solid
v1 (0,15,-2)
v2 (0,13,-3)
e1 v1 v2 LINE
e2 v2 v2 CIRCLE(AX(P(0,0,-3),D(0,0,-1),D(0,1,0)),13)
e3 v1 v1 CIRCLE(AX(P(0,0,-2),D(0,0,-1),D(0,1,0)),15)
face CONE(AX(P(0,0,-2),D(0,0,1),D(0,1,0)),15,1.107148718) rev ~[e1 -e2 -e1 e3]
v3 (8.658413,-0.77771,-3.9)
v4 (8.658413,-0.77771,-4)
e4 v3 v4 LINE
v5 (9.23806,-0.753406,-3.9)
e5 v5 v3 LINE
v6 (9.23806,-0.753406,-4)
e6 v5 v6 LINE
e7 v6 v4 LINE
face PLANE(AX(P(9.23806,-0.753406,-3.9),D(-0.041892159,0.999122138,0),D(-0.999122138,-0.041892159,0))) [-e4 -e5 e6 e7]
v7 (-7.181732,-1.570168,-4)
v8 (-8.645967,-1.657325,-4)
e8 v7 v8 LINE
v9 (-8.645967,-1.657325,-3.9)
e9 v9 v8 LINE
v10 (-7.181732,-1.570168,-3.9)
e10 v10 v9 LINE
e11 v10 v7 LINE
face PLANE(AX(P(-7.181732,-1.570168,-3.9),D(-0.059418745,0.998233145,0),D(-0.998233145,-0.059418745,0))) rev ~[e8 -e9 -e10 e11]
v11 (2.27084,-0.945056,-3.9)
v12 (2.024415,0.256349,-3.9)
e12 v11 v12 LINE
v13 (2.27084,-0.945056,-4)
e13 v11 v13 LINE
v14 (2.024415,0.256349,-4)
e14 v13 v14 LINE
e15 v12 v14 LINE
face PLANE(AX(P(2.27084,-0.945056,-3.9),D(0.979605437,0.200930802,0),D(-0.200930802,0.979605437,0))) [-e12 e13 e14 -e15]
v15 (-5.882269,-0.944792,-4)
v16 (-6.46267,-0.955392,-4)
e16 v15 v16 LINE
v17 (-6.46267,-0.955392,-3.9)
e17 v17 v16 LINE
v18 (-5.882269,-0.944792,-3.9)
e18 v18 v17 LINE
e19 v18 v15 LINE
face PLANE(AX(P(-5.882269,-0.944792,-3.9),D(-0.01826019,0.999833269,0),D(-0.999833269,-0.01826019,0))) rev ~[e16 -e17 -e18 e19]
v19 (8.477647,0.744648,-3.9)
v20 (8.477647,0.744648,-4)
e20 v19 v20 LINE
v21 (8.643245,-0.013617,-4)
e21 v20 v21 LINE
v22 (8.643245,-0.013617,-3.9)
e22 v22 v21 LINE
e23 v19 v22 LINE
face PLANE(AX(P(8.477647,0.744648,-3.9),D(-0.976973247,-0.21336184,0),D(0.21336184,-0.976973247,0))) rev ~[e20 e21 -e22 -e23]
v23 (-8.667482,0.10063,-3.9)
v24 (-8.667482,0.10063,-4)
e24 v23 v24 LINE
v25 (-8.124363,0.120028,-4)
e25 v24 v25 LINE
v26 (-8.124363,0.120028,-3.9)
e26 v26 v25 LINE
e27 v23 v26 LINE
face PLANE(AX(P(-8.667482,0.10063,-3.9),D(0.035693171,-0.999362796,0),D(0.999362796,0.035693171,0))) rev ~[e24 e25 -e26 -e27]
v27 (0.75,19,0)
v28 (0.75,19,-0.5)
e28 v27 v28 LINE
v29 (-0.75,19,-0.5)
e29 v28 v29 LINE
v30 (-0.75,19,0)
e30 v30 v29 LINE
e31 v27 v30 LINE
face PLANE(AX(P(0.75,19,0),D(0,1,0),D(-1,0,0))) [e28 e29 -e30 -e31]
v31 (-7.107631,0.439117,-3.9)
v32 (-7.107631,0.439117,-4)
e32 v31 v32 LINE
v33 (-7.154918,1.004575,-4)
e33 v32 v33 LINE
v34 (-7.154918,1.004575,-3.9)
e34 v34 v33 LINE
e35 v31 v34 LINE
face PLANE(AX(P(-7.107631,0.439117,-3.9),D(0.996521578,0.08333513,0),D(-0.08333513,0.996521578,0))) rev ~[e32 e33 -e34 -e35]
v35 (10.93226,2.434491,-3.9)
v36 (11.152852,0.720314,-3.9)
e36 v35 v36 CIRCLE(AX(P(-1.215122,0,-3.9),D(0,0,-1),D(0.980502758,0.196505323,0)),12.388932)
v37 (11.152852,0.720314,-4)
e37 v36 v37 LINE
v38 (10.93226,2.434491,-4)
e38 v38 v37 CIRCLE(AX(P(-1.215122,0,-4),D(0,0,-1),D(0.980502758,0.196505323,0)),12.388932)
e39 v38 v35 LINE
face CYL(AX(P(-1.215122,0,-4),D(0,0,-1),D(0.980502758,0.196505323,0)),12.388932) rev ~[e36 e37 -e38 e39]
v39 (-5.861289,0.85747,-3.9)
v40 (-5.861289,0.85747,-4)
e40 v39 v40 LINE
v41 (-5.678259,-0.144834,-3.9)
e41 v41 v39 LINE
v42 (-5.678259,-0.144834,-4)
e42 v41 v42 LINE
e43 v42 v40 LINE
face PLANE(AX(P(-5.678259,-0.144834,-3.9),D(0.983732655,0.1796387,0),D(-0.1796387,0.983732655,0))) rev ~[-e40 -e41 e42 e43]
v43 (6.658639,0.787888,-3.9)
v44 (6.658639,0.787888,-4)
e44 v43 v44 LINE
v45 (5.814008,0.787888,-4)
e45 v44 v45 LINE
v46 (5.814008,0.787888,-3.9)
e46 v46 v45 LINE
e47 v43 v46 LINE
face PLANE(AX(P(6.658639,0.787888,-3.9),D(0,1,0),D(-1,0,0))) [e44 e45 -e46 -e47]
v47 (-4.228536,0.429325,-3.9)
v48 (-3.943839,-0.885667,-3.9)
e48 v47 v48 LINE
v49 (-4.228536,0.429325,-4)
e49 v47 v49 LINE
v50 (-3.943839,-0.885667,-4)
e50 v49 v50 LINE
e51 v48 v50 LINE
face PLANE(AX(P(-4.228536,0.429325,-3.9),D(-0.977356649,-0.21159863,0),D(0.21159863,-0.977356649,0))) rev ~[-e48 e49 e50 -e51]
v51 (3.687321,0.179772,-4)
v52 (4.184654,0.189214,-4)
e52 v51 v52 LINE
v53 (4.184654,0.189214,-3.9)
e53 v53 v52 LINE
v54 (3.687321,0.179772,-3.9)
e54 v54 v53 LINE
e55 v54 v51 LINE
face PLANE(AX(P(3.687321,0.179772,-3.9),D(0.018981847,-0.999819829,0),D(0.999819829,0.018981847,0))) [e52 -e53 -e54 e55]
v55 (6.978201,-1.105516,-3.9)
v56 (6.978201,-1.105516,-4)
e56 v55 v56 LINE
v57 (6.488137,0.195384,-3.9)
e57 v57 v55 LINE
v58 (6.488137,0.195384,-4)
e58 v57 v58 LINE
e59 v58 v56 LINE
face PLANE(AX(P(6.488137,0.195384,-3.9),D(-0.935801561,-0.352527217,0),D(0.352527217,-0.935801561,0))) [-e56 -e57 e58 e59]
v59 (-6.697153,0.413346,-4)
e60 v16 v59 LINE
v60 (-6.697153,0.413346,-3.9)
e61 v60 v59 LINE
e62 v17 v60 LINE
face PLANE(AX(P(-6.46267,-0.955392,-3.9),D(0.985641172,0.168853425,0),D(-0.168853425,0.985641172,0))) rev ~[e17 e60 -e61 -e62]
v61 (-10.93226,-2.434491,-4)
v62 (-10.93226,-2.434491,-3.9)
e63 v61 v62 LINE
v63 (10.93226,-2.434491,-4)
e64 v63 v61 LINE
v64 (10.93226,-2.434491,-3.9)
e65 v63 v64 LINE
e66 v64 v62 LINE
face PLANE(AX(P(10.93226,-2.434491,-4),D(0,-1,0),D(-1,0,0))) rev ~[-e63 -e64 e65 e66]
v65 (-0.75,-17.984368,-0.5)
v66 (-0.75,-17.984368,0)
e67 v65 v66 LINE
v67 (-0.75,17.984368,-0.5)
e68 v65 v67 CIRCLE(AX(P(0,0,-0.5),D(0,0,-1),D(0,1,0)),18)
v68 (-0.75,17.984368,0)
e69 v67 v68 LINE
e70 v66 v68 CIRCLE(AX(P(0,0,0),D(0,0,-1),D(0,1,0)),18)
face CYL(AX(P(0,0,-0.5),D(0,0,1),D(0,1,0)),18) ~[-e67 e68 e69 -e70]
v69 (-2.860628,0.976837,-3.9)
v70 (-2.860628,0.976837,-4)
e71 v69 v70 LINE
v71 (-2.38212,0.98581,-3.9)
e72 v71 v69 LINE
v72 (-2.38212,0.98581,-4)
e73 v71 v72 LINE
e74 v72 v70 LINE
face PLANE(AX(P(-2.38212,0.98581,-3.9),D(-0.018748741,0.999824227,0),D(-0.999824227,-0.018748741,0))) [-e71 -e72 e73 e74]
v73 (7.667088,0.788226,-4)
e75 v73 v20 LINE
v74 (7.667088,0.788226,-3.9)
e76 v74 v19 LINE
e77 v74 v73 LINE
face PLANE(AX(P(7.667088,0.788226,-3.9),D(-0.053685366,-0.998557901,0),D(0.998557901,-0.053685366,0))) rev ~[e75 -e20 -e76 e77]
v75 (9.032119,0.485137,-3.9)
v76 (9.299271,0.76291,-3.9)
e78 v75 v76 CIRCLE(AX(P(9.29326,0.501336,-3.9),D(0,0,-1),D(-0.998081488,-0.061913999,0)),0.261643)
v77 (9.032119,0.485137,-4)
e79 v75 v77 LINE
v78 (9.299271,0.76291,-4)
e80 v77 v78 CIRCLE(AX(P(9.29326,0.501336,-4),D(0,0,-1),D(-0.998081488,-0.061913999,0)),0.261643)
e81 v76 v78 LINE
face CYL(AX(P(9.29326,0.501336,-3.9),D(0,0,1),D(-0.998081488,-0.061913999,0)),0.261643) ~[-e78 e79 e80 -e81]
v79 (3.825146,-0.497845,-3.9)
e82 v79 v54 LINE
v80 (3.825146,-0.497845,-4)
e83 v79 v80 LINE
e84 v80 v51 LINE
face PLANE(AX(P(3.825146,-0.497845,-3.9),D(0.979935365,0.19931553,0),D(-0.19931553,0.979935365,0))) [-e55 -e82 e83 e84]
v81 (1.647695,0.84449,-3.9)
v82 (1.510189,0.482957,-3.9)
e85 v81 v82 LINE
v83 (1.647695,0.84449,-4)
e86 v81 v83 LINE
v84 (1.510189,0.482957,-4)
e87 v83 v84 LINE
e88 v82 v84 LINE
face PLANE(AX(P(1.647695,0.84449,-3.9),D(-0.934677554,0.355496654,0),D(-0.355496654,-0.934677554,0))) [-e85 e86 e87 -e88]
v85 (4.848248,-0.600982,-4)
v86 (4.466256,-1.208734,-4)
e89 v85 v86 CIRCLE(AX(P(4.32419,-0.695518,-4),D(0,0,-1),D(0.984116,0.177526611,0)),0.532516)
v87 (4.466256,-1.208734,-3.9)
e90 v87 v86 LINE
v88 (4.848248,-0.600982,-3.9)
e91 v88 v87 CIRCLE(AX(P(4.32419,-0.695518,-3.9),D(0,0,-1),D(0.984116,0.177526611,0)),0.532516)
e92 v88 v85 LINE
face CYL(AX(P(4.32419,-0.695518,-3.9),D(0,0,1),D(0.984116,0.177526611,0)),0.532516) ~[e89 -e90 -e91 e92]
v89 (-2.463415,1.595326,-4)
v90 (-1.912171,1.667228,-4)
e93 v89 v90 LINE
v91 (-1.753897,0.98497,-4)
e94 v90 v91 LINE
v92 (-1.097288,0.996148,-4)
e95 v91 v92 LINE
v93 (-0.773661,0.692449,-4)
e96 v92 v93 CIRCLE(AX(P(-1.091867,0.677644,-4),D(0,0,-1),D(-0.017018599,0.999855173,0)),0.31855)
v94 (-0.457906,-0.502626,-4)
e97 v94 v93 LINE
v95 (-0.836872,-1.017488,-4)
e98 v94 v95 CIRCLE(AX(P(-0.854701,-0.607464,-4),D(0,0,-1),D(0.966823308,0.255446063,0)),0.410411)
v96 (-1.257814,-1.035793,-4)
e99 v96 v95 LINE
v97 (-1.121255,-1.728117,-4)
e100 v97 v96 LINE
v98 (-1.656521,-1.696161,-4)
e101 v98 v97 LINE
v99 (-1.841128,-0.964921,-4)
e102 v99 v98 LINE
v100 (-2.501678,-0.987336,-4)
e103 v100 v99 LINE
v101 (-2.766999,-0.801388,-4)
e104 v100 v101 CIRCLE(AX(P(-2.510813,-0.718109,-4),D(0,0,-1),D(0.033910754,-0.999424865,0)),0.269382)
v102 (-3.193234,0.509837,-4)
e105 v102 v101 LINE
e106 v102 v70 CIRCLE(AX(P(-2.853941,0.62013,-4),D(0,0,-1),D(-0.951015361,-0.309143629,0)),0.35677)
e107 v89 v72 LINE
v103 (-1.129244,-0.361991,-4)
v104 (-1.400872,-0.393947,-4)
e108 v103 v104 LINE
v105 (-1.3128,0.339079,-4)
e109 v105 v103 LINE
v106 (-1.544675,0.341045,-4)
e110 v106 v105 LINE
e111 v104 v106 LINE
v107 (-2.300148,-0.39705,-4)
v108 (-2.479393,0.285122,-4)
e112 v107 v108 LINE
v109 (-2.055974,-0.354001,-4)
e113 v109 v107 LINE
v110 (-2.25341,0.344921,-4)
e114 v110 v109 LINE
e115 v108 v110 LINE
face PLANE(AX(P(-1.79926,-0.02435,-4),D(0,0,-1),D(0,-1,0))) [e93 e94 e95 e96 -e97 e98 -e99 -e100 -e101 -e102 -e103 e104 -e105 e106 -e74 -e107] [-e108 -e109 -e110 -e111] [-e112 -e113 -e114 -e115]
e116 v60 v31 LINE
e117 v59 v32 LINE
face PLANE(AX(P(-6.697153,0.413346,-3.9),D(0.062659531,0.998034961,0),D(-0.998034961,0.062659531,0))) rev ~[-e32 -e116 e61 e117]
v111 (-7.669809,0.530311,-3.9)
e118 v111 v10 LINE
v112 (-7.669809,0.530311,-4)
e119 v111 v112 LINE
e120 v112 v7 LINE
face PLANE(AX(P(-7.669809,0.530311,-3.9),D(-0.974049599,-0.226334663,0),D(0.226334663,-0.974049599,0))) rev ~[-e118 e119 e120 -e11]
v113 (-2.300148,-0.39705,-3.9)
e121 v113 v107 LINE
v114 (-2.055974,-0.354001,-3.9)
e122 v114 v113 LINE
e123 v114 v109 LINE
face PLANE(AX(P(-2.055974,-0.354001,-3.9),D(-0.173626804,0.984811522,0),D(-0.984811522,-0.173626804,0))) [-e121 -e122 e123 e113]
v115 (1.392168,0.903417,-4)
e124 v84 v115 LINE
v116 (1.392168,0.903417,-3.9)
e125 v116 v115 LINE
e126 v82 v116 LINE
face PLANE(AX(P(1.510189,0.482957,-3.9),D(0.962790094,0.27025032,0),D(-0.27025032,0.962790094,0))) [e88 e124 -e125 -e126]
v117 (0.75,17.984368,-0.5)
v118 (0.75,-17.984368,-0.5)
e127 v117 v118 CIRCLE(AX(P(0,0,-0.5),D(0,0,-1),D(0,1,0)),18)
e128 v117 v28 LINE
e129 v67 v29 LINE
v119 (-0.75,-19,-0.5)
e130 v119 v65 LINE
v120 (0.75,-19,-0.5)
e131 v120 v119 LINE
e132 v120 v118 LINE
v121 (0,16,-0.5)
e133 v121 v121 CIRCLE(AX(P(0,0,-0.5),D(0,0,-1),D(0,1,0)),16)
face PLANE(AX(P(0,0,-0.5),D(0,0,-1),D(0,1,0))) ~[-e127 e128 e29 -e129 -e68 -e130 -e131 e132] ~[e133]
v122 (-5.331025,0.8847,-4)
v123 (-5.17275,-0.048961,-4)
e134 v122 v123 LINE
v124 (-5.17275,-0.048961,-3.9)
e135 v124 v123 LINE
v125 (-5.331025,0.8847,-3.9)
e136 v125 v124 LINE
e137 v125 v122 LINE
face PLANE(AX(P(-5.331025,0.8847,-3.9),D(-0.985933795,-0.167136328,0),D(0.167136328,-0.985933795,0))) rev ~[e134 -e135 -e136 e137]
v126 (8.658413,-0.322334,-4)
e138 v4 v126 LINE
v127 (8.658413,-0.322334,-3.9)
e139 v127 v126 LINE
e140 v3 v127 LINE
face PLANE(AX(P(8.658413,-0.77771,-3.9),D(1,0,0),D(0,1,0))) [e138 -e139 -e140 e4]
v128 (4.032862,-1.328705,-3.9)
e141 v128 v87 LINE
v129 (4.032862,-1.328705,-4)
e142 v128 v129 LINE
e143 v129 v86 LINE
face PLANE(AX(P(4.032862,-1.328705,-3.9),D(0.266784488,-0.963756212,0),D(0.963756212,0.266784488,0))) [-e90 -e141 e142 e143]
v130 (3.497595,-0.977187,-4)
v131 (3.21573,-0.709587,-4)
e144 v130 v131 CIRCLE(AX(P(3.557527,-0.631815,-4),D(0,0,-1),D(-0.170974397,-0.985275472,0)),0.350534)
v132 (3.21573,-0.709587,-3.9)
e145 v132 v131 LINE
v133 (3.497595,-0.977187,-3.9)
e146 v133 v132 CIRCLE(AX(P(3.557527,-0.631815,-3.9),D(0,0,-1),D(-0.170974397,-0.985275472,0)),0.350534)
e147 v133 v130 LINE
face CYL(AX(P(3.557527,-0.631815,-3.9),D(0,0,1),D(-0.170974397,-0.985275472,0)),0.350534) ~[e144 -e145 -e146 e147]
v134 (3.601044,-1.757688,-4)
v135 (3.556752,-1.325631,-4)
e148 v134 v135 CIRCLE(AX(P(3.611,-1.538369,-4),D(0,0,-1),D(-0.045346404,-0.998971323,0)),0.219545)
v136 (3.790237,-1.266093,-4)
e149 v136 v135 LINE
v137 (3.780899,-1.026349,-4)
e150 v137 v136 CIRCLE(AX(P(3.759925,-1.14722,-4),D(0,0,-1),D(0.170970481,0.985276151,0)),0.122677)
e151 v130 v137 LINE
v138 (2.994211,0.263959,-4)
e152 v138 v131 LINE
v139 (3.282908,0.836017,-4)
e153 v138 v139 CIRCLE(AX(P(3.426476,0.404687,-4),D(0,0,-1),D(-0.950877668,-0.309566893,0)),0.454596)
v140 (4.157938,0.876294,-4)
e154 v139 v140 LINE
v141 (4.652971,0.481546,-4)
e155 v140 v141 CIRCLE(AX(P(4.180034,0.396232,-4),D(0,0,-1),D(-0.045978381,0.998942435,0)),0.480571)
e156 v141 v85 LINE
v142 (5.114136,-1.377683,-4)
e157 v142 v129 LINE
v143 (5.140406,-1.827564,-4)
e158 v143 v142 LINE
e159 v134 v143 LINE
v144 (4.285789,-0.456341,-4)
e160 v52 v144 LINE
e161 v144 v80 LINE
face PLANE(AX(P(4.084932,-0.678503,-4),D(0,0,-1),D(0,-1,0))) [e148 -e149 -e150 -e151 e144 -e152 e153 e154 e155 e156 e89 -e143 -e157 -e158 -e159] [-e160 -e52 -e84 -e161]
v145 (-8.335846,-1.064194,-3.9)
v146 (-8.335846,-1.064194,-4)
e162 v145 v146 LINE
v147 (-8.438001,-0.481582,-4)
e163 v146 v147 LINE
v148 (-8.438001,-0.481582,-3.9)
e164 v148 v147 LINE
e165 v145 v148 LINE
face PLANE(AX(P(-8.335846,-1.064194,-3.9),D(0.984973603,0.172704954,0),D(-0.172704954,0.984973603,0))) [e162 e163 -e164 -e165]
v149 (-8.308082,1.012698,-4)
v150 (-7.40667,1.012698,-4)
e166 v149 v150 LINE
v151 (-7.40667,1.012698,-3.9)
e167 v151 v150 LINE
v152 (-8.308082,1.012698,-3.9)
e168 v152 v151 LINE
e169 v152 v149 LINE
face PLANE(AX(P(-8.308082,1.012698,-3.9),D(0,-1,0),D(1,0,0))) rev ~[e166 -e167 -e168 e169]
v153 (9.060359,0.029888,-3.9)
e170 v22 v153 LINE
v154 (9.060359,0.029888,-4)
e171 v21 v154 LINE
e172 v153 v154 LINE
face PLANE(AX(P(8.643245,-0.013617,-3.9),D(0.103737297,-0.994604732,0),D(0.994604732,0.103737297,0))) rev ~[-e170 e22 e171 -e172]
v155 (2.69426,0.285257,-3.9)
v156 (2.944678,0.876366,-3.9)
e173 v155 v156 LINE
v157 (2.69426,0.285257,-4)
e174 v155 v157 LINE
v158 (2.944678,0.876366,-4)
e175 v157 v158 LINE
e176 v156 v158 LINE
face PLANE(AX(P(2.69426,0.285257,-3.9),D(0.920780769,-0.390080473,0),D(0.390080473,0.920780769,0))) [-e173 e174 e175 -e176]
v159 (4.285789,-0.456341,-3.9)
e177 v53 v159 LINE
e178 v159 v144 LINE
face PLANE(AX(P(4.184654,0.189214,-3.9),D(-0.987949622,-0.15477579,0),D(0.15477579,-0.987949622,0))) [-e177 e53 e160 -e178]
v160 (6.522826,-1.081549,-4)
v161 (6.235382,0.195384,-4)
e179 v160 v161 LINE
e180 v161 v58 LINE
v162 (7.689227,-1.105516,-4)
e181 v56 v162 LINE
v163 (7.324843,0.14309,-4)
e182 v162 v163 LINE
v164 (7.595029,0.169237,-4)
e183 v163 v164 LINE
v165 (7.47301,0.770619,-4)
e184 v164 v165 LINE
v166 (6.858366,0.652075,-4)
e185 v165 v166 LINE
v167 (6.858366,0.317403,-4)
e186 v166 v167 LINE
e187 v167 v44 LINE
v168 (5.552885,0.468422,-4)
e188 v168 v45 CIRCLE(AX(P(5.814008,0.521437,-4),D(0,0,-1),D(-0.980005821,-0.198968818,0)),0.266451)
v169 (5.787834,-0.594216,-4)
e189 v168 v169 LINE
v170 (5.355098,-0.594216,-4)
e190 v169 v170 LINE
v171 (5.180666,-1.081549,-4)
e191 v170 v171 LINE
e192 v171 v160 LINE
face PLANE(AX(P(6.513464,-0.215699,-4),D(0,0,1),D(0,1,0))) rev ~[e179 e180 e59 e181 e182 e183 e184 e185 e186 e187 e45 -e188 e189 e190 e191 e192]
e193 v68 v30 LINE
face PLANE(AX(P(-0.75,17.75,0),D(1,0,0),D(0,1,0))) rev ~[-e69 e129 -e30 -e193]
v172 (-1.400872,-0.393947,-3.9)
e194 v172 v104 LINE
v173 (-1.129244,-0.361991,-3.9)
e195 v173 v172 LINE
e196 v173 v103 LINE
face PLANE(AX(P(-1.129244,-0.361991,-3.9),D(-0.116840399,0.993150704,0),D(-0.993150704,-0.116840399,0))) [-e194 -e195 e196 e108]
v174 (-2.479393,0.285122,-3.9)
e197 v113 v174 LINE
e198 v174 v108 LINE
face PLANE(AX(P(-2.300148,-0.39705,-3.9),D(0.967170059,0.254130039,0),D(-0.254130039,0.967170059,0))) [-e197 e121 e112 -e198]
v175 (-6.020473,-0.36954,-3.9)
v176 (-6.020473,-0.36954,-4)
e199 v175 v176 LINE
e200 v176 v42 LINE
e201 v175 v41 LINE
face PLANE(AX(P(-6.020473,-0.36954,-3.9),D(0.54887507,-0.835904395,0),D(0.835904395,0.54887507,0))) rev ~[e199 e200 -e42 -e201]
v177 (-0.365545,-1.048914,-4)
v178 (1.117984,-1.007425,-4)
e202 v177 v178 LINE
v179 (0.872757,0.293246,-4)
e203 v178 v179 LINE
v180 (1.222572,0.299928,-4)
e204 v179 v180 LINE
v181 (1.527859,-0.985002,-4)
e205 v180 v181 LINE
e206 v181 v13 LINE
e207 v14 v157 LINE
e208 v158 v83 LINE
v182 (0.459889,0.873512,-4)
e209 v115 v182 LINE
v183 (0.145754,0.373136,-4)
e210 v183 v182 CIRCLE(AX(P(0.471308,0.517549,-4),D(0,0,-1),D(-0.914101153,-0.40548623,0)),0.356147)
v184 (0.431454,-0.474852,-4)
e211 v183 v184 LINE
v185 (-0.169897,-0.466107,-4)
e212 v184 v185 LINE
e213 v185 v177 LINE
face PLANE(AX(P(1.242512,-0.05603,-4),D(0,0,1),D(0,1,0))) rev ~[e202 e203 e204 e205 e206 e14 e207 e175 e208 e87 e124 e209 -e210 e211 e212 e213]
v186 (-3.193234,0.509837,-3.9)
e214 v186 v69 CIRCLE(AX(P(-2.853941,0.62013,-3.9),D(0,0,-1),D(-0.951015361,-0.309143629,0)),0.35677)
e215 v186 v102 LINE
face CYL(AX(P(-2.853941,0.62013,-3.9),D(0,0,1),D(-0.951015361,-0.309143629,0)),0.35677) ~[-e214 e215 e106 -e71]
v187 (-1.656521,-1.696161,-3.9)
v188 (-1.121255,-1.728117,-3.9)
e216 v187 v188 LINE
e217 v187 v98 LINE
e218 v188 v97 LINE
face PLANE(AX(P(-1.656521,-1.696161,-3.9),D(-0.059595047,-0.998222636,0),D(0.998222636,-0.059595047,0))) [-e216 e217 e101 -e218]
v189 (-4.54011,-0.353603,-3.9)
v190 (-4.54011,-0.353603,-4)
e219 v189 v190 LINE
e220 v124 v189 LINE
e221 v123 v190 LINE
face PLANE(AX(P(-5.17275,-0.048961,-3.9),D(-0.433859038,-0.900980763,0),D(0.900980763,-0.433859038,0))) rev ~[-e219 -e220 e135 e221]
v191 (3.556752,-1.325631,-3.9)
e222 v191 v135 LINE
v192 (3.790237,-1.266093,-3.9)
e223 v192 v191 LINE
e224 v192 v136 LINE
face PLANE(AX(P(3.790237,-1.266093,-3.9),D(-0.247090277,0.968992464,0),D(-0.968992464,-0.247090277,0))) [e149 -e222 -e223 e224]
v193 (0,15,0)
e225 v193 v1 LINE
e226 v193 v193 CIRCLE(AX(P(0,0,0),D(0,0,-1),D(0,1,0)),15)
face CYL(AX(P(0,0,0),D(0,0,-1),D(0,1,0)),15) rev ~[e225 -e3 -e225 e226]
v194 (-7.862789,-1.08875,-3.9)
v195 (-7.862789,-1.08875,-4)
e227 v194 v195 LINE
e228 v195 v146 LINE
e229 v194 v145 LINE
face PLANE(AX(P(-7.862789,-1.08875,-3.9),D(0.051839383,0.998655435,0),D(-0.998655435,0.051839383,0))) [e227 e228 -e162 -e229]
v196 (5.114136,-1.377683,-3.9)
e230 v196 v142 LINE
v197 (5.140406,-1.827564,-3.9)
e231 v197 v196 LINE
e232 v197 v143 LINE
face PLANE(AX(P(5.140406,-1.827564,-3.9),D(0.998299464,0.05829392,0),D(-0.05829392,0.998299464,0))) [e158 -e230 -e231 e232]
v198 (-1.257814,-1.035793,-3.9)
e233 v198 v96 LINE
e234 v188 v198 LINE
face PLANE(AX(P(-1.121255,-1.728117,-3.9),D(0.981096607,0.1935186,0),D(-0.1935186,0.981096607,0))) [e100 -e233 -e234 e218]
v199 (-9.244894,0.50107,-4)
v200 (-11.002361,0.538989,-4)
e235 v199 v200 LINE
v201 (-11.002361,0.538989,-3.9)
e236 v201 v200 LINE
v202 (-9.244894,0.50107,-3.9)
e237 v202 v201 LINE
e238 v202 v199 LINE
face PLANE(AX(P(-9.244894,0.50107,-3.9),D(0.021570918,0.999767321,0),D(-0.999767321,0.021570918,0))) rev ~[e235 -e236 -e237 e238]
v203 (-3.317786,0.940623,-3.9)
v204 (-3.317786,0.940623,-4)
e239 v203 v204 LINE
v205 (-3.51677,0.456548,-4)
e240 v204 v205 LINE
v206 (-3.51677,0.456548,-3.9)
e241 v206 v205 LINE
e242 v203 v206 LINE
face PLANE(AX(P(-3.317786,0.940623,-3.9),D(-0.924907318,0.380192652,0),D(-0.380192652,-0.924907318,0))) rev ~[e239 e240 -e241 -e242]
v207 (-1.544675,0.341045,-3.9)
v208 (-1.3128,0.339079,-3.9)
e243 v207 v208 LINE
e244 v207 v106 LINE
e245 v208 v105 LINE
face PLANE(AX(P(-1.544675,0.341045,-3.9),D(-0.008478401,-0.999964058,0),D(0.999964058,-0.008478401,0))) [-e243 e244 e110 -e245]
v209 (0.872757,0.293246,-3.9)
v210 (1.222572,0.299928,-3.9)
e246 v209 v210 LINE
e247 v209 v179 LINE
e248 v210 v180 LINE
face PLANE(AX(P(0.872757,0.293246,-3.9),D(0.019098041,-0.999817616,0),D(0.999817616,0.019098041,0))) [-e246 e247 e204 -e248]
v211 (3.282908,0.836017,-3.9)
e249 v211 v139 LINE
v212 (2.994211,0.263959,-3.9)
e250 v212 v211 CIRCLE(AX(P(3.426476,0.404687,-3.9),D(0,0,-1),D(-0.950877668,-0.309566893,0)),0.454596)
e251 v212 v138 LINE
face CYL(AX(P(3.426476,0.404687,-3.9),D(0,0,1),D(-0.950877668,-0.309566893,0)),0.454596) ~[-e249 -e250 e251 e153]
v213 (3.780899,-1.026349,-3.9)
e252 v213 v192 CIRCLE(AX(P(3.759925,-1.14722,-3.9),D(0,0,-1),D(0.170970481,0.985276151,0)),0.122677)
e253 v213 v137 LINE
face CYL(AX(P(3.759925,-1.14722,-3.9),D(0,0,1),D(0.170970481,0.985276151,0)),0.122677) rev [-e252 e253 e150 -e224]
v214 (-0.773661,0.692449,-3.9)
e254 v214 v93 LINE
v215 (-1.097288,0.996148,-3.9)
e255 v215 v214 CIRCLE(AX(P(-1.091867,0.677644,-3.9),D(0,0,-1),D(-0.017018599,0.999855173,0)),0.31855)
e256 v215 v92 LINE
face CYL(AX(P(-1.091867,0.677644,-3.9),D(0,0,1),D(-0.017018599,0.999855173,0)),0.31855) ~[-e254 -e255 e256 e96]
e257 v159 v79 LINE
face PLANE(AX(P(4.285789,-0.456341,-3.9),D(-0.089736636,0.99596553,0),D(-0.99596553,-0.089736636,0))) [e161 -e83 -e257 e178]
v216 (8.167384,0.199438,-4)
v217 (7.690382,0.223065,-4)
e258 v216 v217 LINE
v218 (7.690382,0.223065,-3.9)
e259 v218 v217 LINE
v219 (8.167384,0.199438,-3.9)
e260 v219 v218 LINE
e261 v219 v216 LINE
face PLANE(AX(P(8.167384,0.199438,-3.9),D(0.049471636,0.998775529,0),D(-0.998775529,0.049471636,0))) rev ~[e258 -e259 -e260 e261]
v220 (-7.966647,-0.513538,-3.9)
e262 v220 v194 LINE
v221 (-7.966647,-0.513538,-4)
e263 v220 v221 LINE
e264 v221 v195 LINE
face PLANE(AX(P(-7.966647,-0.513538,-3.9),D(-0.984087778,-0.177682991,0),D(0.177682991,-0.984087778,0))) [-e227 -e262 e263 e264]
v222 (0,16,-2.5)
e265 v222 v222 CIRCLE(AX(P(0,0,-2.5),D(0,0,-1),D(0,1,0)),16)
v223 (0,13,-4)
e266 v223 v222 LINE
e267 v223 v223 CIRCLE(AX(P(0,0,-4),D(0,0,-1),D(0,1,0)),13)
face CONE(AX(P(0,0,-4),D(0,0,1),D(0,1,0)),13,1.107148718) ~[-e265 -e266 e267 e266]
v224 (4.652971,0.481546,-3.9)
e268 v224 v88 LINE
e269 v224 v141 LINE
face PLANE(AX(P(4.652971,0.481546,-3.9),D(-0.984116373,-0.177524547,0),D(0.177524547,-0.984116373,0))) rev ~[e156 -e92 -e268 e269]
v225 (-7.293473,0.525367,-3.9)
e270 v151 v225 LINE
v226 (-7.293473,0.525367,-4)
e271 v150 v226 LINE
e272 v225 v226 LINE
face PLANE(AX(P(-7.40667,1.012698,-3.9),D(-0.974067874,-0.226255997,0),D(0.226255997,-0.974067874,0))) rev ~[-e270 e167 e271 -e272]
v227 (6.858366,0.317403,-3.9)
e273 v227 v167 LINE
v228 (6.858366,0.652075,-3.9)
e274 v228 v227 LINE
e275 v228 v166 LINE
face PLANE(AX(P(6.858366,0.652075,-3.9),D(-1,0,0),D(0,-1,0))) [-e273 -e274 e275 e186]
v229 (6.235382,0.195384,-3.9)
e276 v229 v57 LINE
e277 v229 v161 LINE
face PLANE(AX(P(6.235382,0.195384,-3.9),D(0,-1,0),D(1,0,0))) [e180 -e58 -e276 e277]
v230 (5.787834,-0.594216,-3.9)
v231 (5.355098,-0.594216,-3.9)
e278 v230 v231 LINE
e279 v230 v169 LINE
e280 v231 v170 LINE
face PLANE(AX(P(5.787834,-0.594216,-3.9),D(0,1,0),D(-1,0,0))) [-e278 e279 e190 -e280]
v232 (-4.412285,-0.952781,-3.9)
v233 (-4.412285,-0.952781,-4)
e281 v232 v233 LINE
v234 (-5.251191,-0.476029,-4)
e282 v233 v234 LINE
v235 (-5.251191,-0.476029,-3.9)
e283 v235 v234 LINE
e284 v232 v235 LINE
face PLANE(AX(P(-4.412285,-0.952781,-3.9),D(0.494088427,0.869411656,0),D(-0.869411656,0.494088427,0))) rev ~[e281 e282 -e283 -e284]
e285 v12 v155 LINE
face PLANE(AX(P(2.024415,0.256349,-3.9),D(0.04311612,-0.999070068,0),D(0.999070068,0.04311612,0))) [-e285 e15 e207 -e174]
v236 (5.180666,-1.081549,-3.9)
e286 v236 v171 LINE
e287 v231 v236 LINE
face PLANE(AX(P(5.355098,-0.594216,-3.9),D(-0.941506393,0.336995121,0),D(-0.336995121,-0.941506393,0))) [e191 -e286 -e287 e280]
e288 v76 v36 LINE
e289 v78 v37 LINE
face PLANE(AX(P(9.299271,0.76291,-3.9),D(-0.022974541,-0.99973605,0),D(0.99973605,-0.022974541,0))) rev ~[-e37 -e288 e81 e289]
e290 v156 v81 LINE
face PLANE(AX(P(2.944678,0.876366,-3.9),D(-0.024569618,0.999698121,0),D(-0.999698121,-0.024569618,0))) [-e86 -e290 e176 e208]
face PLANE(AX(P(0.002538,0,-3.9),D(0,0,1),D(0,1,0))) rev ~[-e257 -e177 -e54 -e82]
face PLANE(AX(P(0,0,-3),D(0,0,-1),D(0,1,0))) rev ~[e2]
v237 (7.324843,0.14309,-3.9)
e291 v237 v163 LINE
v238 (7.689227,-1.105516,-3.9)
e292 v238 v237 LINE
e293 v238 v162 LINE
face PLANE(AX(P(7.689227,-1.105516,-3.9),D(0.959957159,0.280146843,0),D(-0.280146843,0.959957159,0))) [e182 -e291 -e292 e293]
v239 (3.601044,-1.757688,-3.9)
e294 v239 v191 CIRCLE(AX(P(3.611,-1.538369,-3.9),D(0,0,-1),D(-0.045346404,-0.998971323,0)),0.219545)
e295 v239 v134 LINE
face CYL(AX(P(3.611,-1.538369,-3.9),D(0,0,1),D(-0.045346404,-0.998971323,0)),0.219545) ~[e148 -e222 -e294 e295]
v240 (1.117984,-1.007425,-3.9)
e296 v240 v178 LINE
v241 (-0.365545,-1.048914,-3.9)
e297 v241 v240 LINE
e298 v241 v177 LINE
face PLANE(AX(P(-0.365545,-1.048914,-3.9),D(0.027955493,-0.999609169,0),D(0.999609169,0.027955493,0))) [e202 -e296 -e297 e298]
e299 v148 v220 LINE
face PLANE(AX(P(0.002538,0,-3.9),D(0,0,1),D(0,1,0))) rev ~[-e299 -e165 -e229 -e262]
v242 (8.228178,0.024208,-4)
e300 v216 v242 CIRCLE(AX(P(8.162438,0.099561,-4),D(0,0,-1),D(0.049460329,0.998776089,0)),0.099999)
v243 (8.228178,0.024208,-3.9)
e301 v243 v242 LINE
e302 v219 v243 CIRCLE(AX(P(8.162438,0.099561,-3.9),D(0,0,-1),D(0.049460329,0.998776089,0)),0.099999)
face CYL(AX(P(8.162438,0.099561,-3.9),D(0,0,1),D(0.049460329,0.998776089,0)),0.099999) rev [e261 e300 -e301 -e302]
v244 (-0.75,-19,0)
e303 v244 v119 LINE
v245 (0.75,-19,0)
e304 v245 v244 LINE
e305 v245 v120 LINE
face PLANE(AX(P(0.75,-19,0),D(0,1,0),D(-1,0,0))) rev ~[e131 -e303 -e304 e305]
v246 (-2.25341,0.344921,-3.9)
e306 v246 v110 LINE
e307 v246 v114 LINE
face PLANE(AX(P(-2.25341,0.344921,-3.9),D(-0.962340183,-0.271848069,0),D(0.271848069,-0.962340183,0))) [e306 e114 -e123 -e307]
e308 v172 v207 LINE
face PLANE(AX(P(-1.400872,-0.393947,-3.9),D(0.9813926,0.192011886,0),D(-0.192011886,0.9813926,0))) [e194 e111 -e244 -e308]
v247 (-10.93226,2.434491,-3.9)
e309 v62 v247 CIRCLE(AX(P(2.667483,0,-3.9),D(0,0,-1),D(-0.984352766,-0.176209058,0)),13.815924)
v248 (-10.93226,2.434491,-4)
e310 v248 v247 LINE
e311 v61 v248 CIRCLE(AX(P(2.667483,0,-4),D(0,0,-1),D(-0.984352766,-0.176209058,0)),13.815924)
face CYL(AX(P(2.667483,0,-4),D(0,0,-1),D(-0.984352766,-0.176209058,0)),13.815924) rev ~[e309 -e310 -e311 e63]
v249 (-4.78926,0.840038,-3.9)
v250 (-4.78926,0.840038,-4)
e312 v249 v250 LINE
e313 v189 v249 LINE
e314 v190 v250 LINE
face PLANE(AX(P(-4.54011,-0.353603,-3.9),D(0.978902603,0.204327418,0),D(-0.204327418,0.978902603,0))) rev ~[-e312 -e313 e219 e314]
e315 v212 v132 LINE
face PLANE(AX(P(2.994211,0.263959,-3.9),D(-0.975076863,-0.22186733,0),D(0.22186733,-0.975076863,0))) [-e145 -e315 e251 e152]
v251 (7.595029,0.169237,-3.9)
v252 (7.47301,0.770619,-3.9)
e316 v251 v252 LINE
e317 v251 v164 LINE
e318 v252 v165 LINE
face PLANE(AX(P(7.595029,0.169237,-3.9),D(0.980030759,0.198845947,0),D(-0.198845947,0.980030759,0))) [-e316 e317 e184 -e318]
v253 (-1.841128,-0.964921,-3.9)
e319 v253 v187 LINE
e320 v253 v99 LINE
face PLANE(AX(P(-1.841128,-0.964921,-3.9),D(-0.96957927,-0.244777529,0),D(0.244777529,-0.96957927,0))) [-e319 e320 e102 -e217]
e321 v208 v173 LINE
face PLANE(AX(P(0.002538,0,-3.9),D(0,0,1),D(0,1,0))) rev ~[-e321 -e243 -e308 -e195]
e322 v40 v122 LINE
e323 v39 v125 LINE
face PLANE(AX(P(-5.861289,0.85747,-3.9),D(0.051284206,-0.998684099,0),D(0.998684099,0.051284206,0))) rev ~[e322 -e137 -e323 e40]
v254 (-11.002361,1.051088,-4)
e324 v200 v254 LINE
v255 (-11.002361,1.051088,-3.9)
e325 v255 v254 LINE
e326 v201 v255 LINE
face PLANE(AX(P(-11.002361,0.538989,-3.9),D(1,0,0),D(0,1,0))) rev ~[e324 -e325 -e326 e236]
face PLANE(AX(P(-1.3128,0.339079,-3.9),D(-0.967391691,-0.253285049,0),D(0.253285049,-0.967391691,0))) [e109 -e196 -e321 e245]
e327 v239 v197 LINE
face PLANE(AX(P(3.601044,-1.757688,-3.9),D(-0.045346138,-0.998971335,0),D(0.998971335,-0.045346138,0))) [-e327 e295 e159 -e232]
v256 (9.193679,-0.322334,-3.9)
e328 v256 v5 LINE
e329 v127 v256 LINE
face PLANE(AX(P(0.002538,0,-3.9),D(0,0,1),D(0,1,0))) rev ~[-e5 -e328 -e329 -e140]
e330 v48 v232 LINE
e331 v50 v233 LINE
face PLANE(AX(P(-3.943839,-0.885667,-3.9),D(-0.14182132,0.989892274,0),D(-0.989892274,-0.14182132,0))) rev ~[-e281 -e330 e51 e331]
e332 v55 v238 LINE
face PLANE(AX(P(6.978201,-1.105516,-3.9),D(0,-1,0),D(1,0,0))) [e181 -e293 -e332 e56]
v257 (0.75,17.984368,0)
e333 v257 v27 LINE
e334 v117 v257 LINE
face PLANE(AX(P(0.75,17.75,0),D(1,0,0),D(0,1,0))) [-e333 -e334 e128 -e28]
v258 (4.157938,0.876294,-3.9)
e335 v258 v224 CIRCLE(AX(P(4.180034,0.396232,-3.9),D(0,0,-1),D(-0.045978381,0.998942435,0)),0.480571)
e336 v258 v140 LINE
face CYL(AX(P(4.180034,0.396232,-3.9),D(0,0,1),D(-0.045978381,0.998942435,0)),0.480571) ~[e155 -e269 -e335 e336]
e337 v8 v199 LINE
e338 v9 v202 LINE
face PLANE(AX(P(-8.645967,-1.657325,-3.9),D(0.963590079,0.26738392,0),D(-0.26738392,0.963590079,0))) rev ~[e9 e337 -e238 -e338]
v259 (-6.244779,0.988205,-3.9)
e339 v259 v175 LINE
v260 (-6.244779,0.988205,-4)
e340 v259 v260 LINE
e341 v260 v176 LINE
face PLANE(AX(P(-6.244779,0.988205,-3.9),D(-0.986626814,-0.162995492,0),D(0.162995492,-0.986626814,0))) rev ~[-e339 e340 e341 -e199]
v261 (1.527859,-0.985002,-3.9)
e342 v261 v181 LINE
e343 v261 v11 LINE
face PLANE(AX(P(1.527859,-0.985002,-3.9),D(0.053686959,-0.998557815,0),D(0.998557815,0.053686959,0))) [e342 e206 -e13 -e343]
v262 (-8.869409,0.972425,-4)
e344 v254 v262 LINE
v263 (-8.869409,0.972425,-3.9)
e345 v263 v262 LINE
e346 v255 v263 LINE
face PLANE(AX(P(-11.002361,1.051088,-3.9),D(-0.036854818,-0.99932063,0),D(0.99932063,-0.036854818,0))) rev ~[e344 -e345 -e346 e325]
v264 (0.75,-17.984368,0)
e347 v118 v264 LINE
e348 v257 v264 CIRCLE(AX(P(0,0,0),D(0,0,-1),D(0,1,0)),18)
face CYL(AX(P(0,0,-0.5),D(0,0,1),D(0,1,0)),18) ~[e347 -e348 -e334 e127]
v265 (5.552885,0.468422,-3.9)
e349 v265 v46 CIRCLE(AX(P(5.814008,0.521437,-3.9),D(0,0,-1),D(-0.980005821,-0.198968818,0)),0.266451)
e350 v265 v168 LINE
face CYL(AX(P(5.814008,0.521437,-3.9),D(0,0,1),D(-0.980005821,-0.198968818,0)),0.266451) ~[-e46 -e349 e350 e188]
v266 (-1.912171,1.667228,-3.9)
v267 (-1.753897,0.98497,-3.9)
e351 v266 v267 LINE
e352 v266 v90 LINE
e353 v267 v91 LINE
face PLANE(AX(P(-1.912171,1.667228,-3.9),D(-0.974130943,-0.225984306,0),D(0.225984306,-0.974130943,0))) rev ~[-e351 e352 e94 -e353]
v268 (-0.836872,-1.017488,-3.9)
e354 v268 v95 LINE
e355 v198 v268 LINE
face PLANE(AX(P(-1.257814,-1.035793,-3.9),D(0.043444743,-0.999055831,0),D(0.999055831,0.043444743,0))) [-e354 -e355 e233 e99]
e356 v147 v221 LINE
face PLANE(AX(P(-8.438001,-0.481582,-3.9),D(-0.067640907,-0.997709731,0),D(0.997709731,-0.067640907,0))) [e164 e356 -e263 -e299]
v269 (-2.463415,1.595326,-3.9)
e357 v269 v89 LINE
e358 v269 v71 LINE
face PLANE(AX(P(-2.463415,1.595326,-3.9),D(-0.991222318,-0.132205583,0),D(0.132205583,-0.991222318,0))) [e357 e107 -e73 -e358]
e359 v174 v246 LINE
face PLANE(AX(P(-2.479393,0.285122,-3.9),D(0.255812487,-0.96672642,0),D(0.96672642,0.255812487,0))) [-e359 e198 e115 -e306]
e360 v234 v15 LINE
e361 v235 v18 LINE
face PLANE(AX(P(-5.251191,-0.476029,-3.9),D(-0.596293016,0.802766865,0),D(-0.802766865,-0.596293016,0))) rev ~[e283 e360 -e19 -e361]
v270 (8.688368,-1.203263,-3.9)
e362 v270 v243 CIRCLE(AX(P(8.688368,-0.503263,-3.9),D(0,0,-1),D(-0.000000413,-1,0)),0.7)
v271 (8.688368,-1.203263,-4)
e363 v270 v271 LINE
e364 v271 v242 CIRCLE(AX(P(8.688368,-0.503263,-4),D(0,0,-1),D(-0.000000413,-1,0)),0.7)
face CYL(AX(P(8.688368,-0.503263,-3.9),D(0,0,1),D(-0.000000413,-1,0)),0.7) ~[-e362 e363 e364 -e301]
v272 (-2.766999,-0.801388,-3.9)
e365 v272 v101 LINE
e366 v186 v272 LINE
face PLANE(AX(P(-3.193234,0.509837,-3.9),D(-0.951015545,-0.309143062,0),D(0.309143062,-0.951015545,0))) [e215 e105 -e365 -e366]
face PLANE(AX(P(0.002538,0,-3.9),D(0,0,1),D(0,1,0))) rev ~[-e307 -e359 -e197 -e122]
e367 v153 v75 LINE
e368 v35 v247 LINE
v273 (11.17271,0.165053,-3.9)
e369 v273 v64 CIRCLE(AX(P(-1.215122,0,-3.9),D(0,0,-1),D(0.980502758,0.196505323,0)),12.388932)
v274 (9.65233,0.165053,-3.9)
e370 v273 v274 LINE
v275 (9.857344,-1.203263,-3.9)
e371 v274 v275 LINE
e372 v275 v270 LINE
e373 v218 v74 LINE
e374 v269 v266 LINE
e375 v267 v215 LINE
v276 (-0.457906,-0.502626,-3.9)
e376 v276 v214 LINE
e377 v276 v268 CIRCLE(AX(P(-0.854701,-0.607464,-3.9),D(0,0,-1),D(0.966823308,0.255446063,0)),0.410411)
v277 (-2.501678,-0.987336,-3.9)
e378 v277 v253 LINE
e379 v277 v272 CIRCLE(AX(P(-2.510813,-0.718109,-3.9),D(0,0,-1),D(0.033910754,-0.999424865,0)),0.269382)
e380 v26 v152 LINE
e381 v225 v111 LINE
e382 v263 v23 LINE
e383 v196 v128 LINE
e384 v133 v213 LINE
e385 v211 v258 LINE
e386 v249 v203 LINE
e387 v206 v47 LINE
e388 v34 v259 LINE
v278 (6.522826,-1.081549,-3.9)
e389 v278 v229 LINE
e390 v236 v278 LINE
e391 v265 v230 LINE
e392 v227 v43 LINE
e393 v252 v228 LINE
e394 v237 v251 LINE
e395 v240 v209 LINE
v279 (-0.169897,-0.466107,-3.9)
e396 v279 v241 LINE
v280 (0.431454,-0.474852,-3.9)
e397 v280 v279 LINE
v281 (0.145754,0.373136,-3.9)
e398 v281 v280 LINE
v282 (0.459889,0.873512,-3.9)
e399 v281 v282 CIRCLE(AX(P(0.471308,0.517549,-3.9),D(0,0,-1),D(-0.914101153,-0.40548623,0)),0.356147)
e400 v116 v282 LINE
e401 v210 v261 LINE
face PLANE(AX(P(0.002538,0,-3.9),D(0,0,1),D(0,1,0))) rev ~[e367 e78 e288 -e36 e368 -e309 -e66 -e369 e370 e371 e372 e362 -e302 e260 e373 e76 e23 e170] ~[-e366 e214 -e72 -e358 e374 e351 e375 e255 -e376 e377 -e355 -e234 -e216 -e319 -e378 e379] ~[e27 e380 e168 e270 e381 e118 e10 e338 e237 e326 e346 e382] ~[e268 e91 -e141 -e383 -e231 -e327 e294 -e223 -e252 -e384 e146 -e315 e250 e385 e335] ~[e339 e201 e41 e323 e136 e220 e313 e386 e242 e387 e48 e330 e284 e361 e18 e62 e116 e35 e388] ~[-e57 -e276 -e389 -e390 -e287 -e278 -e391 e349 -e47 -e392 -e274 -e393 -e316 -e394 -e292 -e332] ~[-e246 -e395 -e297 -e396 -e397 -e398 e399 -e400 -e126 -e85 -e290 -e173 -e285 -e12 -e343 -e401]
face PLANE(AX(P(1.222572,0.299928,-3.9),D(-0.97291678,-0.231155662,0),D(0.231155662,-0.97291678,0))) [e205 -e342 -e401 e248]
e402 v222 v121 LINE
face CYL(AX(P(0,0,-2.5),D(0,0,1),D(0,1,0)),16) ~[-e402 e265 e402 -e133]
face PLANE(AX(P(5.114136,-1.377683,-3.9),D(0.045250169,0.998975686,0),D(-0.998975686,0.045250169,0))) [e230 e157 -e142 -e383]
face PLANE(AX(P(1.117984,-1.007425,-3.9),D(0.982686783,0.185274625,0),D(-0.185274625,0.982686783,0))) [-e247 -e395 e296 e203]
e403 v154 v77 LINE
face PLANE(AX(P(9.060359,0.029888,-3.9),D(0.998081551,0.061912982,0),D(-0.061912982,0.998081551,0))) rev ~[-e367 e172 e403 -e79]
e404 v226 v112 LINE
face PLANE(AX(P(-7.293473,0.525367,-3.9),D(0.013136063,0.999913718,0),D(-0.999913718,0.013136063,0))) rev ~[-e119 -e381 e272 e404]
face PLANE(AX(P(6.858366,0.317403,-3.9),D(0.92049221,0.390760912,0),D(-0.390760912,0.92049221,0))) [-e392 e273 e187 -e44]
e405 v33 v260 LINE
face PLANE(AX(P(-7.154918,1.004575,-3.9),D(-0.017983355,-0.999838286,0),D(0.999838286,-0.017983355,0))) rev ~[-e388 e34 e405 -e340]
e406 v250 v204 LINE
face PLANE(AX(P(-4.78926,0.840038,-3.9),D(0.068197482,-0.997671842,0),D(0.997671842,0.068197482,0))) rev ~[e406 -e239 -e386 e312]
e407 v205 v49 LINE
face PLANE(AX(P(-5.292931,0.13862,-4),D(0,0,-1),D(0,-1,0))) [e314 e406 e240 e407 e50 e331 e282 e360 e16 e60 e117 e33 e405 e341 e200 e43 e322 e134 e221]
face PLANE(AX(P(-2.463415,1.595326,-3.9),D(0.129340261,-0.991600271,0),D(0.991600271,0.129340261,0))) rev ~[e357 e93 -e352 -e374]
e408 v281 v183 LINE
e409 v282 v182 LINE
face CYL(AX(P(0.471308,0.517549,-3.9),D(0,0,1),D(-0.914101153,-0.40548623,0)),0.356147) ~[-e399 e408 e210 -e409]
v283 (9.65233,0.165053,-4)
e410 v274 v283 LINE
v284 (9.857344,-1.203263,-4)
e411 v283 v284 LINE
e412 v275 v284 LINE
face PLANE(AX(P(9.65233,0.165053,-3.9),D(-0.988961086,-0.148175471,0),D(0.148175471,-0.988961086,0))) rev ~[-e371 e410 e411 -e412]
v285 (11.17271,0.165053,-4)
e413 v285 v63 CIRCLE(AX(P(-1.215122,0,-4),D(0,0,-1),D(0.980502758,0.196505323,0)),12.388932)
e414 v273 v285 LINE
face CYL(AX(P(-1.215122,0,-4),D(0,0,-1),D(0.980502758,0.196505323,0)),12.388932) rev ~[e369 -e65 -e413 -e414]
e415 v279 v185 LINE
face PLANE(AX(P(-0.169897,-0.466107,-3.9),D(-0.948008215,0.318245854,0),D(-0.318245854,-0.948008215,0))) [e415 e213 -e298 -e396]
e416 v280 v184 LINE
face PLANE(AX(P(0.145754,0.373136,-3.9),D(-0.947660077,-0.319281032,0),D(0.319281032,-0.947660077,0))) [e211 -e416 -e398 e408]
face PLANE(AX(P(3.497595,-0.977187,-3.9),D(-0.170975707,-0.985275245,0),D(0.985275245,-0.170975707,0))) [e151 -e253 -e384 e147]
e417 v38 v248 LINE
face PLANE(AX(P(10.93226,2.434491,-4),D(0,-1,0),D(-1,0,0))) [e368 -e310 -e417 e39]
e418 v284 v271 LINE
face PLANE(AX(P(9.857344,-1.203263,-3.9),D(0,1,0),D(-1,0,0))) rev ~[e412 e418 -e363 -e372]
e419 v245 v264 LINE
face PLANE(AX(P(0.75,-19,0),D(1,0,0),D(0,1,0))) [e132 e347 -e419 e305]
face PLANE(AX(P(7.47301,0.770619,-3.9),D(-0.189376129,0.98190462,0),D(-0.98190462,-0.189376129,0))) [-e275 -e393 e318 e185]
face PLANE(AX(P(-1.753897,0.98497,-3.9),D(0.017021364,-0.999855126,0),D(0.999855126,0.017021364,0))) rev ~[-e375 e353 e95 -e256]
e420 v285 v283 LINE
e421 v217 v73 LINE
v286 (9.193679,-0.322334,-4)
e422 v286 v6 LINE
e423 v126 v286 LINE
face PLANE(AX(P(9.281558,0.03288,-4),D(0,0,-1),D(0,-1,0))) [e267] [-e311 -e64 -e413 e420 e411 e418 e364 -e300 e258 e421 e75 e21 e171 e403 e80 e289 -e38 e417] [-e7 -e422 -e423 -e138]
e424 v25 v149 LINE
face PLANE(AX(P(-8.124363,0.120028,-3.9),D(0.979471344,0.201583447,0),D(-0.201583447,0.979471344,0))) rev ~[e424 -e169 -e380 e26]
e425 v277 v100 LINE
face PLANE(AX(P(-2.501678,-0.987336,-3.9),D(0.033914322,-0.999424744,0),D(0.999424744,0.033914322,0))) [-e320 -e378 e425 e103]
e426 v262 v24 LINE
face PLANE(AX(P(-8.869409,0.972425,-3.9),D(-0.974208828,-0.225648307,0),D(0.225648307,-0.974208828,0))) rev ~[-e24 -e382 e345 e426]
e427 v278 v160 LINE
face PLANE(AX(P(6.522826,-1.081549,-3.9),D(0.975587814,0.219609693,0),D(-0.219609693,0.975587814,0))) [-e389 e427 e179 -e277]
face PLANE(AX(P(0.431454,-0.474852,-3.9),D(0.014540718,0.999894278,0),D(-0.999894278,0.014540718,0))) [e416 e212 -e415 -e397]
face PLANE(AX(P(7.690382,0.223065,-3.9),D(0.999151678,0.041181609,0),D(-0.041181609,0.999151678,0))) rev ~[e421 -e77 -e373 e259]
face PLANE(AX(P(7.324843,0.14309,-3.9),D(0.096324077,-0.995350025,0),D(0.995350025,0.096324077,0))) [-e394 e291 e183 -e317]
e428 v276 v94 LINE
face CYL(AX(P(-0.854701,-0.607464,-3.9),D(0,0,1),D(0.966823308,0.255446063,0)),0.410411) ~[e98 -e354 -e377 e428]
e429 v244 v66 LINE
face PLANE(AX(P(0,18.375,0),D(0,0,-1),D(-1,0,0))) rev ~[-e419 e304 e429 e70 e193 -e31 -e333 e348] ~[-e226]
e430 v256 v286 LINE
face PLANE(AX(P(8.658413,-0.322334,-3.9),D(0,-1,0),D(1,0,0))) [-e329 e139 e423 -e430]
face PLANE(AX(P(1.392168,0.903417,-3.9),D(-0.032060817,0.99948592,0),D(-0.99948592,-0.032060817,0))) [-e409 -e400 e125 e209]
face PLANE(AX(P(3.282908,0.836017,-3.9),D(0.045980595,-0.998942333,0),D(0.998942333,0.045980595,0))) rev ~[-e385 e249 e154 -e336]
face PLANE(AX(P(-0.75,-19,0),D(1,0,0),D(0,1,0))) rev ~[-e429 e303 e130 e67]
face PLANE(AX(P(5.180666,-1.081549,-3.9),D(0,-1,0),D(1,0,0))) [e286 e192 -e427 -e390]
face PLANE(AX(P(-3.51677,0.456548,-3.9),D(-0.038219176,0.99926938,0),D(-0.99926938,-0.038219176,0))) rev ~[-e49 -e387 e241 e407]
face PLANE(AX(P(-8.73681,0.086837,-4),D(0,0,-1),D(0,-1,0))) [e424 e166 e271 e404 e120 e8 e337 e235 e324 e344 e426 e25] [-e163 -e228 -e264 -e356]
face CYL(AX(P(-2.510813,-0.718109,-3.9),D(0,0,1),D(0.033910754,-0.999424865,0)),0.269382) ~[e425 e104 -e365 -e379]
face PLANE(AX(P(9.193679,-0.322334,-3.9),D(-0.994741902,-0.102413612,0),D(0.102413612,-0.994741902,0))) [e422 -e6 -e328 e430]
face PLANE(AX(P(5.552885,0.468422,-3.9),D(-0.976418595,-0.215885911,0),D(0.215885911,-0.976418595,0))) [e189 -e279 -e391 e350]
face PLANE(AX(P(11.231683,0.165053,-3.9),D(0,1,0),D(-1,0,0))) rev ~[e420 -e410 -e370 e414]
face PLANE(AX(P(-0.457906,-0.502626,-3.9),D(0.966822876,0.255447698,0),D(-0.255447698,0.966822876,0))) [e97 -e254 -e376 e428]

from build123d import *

# Parameters (mm, degrees)
SKETCH019_W             = 1.5
SKETCH019_H             = 1.25
PAD002_DEPTH            = 0.5
POCKET_DEPTH            = 0.1
PAD_DEPTH               = 0.1
BODY002_PLACEMENT_ANGLE = 180


with BuildPart() as part:
    # Sketch018 → Revolution002 (revolve)
    with BuildSketch(Plane.YZ):
        Polygon((0, 3), (0, 4), (13, 4), (16, 2.5), (16, 0.5), (18, 0.5), (18, 0), (15, 0), (15, 2), (13, 3), align=None)
    revolve(axis=Axis((0, 0, 0), (0, 0, 1)))

    # Sketch019 → Pad002 (new body)
    with BuildSketch(Plane.XY):
        with Locations((0, 18.375)):
            Rectangle(SKETCH019_W, SKETCH019_H)
        with Locations((0, -18.375)):
            Rectangle(SKETCH019_W, SKETCH019_H)
    extrude(amount=PAD002_DEPTH)

    # Sketch020 (on Face10 of Pad002) → Pocket (cut)
    with BuildSketch(Plane(origin=(0, 0, 4), x_dir=(0, -1, 0), z_dir=(0, 0, 1))):
        with BuildLine():
            Line((-2.434491, -10.93226), (-2.434491, 10.93226))
            ThreePointArc((2.434491, 10.93226), (0, 11.148441), (-2.434491, 10.93226))
            Line((2.434491, -10.93226), (2.434491, 10.93226))
            ThreePointArc((-2.434491, -10.93226), (0, -11.17381), (2.434491, -10.93226))
        make_face()
    extrude(amount=-POCKET_DEPTH, mode=Mode.SUBTRACT)

    # Sketch021 (on Face21 of Pocket) → Pad (join)
    with BuildSketch(Plane(origin=(0, 0, 3.9), x_dir=(0, -1, 0), z_dir=(0, 0, 1))):
        Polygon((-1.051088, 11.002361), (-0.972425, 8.869409), (-0.10063, 8.667482), (-0.120028, 8.124363), (-1.012698, 8.308082), (-1.012698, 7.40667), (-0.525367, 7.293473), (-0.530311, 7.669809), (1.570168, 7.181732), (1.657325, 8.645967), (-0.50107, 9.244894), (-0.538989, 11.002361), align=None)
        Polygon((0.481582, 8.438001), (0.513538, 7.966647), (1.08875, 7.862789), (1.064194, 8.335846), align=None, mode=Mode.SUBTRACT)
        Polygon((-1.004575, 7.154918), (-0.988205, 6.244779), (0.36954, 6.020473), (0.144834, 5.678259), (-0.85747, 5.861289), (-0.8847, 5.331025), (0.048961, 5.17275), (0.353603, 4.54011), (-0.840038, 4.78926), (-0.940623, 3.317786), (-0.456548, 3.51677), (-0.429325, 4.228536), (0.885667, 3.943839), (0.952781, 4.412285), (0.476029, 5.251191), (0.944792, 5.882269), (0.955392, 6.46267), (-0.413346, 6.697153), (-0.439117, 7.107631), align=None)
        with BuildLine():
            Line((-1.595326, 2.463415), (-1.667228, 1.912171))
            Line((-1.667228, 1.912171), (-0.98497, 1.753897))
            Line((-0.98497, 1.753897), (-0.996148, 1.097288))
            ThreePointArc((-0.996148, 1.097288), (-0.909931, 0.873883), (-0.692449, 0.773661))
            Line((0.502626, 0.457906), (-0.692449, 0.773661))
            ThreePointArc((0.502626, 0.457906), (0.850751, 0.524173), (1.017488, 0.836872))
            Line((1.035793, 1.257814), (1.017488, 0.836872))
            Line((1.728117, 1.121255), (1.035793, 1.257814))
            Line((1.696161, 1.656521), (1.728117, 1.121255))
            Line((0.964921, 1.841128), (1.696161, 1.656521))
            Line((0.987336, 2.501678), (0.964921, 1.841128))
            ThreePointArc((0.987336, 2.501678), (0.938708, 2.665418), (0.801388, 2.766999))
            Line((-0.509837, 3.193234), (0.801388, 2.766999))
            ThreePointArc((-0.509837, 3.193234), (-0.8271, 3.14454), (-0.976837, 2.860628))
            Line((-0.98581, 2.38212), (-0.976837, 2.860628))
            Line((-1.595326, 2.463415), (-0.98581, 2.38212))
        make_face()
        Polygon((-0.285122, 2.479393), (-0.344921, 2.25341), (0.354001, 2.055974), (0.39705, 2.300148), align=None, mode=Mode.SUBTRACT)
        Polygon((-0.341045, 1.544675), (-0.339079, 1.3128), (0.361991, 1.129244), (0.393947, 1.400872), align=None, mode=Mode.SUBTRACT)
        with BuildLine():
            Line((-0.373136, -0.145754), (0.474852, -0.431454))
            Line((0.474852, -0.431454), (0.466107, 0.169897))
            Line((0.466107, 0.169897), (1.048914, 0.365545))
            Line((1.048914, 0.365545), (1.007425, -1.117984))
            Line((1.007425, -1.117984), (-0.293246, -0.872757))
            Line((-0.293246, -0.872757), (-0.299928, -1.222572))
            Line((-0.299928, -1.222572), (0.985002, -1.527859))
            Line((0.985002, -1.527859), (0.945056, -2.27084))
            Line((0.945056, -2.27084), (-0.256349, -2.024415))
            Line((-0.256349, -2.024415), (-0.285257, -2.69426))
            Line((-0.285257, -2.69426), (-0.876366, -2.944678))
            Line((-0.876366, -2.944678), (-0.84449, -1.647695))
            Line((-0.84449, -1.647695), (-0.482957, -1.510189))
            Line((-0.482957, -1.510189), (-0.903417, -1.392168))
            Line((-0.903417, -1.392168), (-0.873512, -0.459889))
            ThreePointArc((-0.373136, -0.145754), (-0.706912, -0.169676), (-0.873512, -0.459889))
        make_face()
        with BuildLine():
            Line((-0.836017, -3.282908), (-0.876294, -4.157938))
            ThreePointArc((-0.876294, -4.157938), (-0.771967, -4.479652), (-0.481546, -4.652971))
            Line((-0.481546, -4.652971), (0.600982, -4.848248))
            ThreePointArc((0.600982, -4.848248), (0.978895, -4.775046), (1.208734, -4.466256))
            Line((1.328705, -4.032862), (1.208734, -4.466256))
            Line((1.377683, -5.114136), (1.328705, -4.032862))
            Line((1.827564, -5.140406), (1.377683, -5.114136))
            Line((1.757688, -3.601044), (1.827564, -5.140406))
            ThreePointArc((1.757688, -3.601044), (1.560758, -3.392599), (1.325631, -3.556752))
            Line((1.266093, -3.790237), (1.325631, -3.556752))
            ThreePointArc((1.026349, -3.780899), (1.142446, -3.882509), (1.266093, -3.790237))
            Line((0.977187, -3.497595), (1.026349, -3.780899))
            ThreePointArc((0.977187, -3.497595), (0.886029, -3.316179), (0.709587, -3.21573))
            Line((-0.263959, -2.994211), (0.709587, -3.21573))
            ThreePointArc((-0.263959, -2.994211), (-0.609501, -3.020633), (-0.836017, -3.282908))
        make_face()
        Polygon((-0.179772, -3.687321), (-0.189214, -4.184654), (0.456341, -4.285789), (0.497845, -3.825146), align=None, mode=Mode.SUBTRACT)
        with BuildLine():
            Line((-0.468422, -5.552885), (0.594216, -5.787834))
            Line((0.594216, -5.787834), (0.594216, -5.355098))
            Line((0.594216, -5.355098), (1.081549, -5.180666))
            Line((1.081549, -5.180666), (1.081549, -6.522826))
            Line((1.081549, -6.522826), (-0.195384, -6.235382))
            Line((-0.195384, -6.235382), (-0.195384, -6.488137))
            Line((-0.195384, -6.488137), (1.105516, -6.978201))
            Line((1.105516, -6.978201), (1.105516, -7.689227))
            Line((1.105516, -7.689227), (-0.14309, -7.324843))
            Line((-0.14309, -7.324843), (-0.169237, -7.595029))
            Line((-0.169237, -7.595029), (-0.770619, -7.47301))
            Line((-0.770619, -7.47301), (-0.652075, -6.858366))
            Line((-0.652075, -6.858366), (-0.317403, -6.858366))
            Line((-0.317403, -6.858366), (-0.787888, -6.658639))
            Line((-0.787888, -6.658639), (-0.787888, -5.814008))
            ThreePointArc((-0.468422, -5.552885), (-0.690064, -5.607705), (-0.787888, -5.814008))
        make_face()
        with BuildLine():
            Line((-0.788226, -7.667088), (-0.744648, -8.477647))
            Line((-0.744648, -8.477647), (0.013617, -8.643245))
            Line((0.013617, -8.643245), (-0.029888, -9.060359))
            Line((-0.029888, -9.060359), (-0.485137, -9.032119))
            ThreePointArc((-0.485137, -9.032119), (-0.682705, -9.10468), (-0.76291, -9.299271))
            Line((-0.76291, -9.299271), (-0.718502, -11.231683))
            Line((-0.718502, -11.231683), (-0.165053, -11.231683))
            Line((-0.165053, -11.231683), (-0.165053, -9.65233))
            Line((-0.165053, -9.65233), (1.203263, -9.857344))
            Line((1.203263, -9.857344), (1.203263, -8.688368))
            ThreePointArc((1.203263, -8.688368), (0.748997, -8.032918), (-0.024208, -8.228178))
            ThreePointArc((-0.199438, -8.167384), (-0.132338, -8.256913), (-0.024208, -8.228178))
            Line((-0.199438, -8.167384), (-0.223065, -7.690382))
            Line((-0.223065, -7.690382), (-0.788226, -7.667088))
        make_face()
        Polygon((0.322334, -8.658413), (0.322334, -9.193679), (0.753406, -9.23806), (0.77771, -8.658413), align=None, mode=Mode.SUBTRACT)
    extrude(amount=PAD_DEPTH)


with BuildPart() as part_1:
    # Body002 placement: moved
    add(part.part.moved(Location((0, 0, 0))).rotate(Axis((0, 0, 0), (0, 1, 0)), BODY002_PLACEMENT_ANGLE))


solid = part_1.part
